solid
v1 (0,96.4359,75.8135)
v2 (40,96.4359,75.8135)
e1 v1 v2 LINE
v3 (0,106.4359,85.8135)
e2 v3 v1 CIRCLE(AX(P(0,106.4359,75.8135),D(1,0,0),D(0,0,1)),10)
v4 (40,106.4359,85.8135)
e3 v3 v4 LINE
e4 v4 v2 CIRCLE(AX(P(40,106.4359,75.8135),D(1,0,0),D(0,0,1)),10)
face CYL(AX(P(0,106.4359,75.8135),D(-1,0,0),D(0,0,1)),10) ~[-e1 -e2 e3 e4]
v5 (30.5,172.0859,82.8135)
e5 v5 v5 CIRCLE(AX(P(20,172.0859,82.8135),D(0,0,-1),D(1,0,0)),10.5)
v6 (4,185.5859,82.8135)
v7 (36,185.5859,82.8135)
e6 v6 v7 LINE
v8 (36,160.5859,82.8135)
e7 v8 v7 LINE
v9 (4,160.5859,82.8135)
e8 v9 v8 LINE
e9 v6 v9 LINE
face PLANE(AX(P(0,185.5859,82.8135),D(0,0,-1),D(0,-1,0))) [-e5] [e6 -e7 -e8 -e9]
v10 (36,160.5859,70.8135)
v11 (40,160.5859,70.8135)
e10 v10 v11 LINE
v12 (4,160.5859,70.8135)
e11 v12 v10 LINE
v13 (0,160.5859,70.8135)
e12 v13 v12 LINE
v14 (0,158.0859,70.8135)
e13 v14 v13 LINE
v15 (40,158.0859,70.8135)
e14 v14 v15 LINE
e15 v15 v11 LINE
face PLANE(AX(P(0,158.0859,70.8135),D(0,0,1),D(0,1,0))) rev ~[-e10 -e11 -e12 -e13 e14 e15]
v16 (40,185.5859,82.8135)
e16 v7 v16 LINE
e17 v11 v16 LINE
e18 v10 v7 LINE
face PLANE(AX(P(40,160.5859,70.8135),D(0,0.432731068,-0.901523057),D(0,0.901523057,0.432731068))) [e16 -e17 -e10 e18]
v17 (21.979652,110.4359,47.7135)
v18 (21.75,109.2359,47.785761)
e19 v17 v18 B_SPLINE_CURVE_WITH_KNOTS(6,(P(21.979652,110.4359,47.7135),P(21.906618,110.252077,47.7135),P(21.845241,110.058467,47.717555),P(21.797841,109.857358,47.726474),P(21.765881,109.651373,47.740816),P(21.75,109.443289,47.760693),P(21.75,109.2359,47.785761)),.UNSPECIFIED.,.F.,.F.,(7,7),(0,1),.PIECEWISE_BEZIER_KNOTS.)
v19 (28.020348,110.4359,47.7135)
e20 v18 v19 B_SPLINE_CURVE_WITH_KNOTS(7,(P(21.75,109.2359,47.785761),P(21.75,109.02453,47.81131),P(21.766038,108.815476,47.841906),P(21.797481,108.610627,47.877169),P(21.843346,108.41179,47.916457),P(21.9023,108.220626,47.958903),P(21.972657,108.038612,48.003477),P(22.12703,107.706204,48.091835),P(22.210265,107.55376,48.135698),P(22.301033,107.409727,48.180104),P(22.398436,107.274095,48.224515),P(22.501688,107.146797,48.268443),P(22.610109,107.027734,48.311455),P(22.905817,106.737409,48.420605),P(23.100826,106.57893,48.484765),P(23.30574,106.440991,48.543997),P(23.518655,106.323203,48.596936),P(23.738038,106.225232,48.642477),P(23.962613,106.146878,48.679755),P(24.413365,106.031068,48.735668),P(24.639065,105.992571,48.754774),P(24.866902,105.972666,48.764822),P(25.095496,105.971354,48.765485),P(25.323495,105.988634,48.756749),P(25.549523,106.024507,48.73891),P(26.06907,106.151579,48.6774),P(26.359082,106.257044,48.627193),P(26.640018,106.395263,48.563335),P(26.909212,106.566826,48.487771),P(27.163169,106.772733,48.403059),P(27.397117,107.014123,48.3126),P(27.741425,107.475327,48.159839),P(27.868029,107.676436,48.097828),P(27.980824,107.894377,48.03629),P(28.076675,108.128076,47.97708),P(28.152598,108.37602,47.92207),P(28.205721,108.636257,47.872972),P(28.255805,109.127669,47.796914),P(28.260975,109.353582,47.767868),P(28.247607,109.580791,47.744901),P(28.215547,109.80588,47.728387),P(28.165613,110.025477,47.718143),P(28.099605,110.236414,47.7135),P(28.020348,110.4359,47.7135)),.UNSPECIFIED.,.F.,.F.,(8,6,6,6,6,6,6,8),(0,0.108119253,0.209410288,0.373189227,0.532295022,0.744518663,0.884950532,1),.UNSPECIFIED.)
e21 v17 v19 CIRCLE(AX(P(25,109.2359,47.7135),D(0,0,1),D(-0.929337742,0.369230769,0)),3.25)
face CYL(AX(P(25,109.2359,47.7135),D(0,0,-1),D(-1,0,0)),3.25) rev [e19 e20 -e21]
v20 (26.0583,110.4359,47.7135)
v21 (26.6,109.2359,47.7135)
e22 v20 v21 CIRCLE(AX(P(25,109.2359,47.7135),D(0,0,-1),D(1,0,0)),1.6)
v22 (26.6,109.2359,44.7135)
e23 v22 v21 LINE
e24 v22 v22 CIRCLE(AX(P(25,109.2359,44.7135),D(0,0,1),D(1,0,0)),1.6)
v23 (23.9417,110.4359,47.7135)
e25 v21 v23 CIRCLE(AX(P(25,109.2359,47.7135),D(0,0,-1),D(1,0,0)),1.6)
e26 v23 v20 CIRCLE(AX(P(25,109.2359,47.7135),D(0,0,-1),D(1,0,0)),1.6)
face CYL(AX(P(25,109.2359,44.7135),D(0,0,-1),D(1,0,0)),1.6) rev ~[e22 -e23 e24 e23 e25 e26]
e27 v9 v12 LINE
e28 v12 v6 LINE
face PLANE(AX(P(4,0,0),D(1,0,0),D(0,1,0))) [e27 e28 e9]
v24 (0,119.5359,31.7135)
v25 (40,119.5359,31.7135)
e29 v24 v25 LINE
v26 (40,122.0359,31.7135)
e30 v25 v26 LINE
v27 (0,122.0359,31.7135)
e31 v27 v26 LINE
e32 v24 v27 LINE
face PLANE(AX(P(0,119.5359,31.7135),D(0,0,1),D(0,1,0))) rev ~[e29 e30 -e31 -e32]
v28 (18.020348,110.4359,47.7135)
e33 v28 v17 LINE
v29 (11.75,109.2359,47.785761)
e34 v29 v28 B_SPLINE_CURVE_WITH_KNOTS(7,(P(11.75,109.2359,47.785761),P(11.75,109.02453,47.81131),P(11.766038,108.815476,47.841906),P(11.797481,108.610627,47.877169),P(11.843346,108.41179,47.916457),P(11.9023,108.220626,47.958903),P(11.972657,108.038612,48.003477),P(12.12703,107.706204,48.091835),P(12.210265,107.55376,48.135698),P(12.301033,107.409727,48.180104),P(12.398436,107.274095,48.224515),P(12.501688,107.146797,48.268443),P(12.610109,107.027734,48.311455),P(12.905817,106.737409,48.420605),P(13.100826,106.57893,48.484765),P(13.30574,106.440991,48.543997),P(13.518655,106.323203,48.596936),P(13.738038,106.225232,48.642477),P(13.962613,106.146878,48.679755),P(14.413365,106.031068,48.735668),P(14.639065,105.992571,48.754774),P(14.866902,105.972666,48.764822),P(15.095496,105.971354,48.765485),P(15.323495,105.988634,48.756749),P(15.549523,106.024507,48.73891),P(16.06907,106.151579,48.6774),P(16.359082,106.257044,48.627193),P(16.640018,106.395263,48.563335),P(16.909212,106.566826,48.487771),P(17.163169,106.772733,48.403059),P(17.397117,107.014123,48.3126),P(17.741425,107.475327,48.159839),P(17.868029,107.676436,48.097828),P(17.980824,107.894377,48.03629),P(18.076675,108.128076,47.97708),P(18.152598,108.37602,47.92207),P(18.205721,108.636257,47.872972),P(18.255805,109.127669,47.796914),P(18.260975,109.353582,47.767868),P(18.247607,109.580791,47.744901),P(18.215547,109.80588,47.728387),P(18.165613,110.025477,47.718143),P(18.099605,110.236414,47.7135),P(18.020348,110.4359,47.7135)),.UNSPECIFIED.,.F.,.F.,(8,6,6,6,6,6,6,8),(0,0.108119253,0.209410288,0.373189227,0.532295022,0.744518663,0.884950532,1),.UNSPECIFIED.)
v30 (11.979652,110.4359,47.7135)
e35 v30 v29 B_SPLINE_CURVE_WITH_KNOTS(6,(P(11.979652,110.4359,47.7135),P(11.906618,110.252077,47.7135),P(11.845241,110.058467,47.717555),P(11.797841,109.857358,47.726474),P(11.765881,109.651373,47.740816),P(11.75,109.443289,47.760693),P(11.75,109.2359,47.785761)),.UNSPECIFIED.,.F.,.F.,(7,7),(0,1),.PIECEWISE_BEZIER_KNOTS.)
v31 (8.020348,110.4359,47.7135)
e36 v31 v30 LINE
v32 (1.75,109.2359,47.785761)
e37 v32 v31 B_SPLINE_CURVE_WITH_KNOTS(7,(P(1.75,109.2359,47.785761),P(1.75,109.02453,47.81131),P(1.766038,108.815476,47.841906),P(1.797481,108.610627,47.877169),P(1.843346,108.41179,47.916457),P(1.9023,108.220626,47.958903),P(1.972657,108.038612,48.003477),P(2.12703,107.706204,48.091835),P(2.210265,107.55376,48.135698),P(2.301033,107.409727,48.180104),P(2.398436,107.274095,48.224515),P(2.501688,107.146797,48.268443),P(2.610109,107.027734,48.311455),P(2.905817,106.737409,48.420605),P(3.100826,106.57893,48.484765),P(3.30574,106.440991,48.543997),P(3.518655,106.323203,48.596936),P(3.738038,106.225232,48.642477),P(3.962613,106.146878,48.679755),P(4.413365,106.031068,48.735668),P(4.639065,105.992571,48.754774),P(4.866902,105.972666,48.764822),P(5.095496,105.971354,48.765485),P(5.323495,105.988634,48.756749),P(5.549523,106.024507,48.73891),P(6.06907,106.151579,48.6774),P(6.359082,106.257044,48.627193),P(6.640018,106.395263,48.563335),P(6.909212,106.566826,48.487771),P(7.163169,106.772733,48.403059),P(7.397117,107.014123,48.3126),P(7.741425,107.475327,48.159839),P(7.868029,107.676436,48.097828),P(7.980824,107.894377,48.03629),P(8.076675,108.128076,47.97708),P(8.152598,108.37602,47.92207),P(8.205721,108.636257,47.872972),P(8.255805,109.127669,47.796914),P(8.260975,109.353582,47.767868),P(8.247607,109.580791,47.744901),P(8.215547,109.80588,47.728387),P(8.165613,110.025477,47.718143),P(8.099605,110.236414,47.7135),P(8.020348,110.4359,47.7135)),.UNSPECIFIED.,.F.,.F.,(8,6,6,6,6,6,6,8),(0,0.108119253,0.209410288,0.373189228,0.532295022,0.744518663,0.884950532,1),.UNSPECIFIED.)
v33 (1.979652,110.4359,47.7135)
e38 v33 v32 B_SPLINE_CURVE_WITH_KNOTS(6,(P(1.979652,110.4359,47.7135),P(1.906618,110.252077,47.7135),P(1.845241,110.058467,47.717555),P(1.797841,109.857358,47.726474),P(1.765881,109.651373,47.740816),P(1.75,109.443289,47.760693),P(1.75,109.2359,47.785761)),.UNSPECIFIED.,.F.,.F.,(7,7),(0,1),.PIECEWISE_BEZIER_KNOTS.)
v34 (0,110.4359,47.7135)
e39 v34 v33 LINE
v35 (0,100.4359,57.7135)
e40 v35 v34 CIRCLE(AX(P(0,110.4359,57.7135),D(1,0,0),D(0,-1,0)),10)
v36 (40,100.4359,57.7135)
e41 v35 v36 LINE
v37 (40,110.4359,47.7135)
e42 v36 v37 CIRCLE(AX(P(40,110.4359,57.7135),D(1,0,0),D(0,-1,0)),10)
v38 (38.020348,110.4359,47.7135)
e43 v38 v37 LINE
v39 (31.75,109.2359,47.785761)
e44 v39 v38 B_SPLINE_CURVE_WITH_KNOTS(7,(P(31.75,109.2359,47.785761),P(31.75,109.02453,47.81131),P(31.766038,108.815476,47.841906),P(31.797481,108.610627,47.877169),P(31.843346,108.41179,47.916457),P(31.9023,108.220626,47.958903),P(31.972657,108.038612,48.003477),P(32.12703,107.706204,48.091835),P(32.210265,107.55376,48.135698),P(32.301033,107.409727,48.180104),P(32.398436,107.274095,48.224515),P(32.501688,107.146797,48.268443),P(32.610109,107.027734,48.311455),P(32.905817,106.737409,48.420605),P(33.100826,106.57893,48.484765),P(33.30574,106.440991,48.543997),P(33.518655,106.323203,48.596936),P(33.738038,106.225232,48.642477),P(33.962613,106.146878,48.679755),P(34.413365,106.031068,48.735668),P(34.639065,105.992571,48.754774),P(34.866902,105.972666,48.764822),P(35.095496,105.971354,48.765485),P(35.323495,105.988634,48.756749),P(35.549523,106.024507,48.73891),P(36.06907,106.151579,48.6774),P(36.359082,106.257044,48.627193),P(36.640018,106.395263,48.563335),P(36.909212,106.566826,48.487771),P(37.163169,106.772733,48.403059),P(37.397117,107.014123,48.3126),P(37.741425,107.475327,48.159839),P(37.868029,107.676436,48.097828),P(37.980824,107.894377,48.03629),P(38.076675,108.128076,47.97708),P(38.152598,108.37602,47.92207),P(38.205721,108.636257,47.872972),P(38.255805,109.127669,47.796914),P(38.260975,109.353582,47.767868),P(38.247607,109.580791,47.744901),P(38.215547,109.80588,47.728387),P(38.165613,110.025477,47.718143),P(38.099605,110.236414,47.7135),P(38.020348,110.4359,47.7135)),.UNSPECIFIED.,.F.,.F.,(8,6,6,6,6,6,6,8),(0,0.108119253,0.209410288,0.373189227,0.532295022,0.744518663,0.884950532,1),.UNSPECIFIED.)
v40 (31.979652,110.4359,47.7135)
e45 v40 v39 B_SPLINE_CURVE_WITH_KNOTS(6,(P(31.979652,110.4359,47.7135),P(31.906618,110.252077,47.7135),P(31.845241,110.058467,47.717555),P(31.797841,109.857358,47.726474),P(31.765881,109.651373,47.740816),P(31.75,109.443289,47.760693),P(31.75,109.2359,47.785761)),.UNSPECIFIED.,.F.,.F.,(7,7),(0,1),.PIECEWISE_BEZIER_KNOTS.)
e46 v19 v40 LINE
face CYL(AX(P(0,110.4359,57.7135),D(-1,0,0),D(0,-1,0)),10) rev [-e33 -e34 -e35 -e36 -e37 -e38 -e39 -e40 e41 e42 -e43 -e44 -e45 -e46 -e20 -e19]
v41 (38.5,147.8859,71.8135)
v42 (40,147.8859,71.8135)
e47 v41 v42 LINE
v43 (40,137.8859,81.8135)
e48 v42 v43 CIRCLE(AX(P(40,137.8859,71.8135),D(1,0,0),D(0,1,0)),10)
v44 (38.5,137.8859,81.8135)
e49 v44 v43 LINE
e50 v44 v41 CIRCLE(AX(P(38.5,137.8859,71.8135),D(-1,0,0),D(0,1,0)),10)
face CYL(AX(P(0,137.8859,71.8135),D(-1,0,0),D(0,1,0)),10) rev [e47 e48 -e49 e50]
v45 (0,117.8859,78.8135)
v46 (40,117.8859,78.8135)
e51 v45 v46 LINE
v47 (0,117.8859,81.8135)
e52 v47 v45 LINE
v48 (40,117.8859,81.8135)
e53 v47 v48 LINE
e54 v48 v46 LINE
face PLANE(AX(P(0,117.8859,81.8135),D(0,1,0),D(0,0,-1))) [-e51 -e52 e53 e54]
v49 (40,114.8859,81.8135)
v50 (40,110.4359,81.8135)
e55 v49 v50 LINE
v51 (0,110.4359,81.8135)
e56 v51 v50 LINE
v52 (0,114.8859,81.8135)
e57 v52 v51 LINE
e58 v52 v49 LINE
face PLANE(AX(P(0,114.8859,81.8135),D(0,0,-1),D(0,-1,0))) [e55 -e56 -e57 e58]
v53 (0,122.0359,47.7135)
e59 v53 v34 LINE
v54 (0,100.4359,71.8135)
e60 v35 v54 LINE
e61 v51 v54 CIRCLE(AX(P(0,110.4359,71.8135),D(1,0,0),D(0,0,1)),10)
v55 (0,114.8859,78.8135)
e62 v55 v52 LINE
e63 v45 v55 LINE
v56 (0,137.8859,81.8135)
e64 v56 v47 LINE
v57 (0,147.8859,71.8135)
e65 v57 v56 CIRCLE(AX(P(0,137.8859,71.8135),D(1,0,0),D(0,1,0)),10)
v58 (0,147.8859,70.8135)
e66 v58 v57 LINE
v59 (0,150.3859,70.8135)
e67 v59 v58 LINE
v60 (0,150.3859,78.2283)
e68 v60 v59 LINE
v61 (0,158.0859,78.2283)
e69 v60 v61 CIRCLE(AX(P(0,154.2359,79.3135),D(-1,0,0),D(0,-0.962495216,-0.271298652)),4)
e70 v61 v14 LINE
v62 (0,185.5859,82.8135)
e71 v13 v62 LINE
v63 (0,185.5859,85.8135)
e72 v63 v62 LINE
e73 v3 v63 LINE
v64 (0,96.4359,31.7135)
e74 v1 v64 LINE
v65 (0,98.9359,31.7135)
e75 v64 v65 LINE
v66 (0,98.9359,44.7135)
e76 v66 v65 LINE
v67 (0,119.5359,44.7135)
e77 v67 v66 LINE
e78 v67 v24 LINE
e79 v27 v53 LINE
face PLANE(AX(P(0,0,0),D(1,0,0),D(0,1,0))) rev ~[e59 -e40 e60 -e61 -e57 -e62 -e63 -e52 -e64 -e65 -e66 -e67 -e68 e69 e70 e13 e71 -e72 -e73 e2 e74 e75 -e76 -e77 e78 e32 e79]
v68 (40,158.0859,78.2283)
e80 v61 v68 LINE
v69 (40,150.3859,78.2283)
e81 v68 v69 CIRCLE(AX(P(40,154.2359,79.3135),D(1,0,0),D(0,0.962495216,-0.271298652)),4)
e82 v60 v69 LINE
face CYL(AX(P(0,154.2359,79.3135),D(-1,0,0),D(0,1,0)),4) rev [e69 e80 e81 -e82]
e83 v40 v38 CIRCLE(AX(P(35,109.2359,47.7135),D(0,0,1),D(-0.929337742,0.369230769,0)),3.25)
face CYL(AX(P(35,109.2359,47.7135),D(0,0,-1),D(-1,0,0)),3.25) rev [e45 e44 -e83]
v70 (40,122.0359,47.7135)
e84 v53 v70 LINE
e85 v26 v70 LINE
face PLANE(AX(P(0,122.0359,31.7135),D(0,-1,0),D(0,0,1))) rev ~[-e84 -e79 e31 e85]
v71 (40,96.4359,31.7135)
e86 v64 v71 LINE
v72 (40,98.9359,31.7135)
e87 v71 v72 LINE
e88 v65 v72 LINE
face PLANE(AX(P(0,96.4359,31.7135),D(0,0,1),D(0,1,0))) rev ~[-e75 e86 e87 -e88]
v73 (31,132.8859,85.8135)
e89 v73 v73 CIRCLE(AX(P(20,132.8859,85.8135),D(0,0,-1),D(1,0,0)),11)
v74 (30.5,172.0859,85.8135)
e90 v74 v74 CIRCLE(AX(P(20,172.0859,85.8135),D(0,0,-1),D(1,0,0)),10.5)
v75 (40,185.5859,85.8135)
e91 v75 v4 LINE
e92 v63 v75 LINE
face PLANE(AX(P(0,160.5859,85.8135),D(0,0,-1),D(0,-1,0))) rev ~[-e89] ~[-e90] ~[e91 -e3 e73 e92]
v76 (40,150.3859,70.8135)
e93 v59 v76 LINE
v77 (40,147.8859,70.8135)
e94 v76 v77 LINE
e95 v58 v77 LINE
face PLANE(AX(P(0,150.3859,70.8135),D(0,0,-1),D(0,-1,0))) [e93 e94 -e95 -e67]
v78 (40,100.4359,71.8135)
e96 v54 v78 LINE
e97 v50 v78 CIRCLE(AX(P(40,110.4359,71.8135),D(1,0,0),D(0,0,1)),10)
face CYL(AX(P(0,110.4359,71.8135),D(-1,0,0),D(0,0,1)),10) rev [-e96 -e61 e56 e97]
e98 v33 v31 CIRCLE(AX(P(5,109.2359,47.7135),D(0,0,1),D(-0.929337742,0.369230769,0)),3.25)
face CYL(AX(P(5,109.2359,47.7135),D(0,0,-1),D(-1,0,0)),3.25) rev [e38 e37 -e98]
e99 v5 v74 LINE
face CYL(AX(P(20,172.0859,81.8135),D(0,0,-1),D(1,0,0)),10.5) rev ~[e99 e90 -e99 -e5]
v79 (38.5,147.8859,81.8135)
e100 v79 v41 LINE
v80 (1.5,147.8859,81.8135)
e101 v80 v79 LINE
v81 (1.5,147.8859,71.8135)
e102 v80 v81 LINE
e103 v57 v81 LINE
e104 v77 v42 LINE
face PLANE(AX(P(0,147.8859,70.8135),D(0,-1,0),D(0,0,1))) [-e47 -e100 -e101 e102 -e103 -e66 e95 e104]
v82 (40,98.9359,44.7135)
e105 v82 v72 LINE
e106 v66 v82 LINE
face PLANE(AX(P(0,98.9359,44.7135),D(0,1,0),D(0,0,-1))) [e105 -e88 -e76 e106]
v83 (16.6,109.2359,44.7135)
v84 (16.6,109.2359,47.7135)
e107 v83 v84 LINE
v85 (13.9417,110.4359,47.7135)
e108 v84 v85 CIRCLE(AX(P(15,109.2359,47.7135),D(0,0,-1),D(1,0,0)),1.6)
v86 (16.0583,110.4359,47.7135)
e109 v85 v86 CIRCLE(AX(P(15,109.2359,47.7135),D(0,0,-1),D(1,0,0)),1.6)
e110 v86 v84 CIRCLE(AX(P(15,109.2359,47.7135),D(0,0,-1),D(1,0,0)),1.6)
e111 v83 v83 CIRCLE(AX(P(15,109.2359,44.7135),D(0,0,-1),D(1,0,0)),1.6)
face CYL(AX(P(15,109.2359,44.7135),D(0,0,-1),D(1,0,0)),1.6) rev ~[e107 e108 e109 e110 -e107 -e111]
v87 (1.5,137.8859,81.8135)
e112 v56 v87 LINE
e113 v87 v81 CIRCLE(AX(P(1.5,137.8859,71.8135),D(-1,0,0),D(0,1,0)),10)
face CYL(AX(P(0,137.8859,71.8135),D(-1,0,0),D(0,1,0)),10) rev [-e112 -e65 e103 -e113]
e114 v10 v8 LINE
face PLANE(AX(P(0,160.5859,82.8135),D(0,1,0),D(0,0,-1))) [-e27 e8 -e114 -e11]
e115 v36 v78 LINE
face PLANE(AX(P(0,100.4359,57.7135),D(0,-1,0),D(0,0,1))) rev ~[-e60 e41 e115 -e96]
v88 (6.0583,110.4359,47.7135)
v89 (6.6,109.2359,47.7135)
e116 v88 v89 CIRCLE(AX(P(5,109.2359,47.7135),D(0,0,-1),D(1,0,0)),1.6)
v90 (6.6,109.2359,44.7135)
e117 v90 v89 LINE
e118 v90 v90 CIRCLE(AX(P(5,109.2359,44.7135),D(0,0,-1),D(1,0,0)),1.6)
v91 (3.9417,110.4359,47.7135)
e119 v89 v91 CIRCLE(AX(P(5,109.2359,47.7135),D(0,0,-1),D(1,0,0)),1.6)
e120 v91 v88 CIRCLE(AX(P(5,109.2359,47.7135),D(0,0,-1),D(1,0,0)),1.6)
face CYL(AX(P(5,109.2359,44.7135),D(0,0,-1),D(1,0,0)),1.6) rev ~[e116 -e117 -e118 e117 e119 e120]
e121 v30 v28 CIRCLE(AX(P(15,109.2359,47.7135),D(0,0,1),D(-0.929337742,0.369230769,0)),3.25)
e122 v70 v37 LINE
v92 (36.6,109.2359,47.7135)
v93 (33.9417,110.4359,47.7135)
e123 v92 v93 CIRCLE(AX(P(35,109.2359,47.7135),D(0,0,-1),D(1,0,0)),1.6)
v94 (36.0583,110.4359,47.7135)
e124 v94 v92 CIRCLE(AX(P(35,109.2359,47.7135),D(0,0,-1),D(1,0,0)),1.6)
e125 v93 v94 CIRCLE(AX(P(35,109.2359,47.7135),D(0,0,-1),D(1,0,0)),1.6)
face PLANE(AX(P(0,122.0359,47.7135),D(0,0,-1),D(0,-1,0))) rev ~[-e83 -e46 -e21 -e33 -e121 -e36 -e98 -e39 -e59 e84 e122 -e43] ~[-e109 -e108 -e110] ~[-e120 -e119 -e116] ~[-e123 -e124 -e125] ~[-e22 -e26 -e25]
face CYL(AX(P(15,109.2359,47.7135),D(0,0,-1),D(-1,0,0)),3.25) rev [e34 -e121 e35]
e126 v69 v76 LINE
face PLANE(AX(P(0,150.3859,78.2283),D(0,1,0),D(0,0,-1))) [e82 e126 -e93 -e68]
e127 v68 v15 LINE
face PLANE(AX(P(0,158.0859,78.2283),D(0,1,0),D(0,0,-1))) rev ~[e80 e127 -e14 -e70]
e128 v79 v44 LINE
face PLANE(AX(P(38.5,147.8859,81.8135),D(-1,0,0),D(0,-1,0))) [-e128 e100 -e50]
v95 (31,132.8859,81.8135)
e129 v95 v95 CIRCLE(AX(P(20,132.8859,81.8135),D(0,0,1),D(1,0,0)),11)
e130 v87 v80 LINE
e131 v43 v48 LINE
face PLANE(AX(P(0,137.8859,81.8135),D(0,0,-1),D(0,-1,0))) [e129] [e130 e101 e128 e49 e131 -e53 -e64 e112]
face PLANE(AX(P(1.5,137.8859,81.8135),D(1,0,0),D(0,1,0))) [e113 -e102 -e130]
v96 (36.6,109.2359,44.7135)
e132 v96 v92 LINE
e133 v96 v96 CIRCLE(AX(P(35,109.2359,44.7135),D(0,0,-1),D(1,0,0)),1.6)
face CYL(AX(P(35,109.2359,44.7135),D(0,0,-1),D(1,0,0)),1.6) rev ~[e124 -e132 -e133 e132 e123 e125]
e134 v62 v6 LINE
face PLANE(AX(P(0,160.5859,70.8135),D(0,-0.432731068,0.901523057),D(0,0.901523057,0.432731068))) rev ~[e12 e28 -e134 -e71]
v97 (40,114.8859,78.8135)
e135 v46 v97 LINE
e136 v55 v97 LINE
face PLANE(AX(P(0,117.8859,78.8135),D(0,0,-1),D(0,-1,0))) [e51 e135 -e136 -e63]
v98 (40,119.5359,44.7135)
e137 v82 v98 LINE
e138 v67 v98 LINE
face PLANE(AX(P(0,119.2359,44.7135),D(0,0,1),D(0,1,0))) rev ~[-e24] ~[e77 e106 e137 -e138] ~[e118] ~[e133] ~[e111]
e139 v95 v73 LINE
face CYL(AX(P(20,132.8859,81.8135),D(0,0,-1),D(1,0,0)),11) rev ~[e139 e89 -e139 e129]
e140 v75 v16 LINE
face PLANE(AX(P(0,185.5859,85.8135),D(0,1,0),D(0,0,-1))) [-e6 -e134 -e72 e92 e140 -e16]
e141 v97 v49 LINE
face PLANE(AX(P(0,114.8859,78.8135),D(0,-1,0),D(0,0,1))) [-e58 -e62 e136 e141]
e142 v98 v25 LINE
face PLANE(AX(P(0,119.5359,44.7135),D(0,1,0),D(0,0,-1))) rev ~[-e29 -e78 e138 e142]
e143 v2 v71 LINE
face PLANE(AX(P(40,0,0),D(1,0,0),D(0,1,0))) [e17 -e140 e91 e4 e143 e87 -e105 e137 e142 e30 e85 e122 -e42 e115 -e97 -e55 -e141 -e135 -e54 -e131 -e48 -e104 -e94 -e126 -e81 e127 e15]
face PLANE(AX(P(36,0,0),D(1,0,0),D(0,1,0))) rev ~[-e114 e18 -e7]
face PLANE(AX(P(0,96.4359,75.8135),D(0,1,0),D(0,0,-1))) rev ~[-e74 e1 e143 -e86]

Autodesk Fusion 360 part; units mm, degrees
sketch "Sketch2" plane through (0, 0, 0) normal (1, 0, 0) x (0, 1, 0) in component "Support Batt"
  circle A0 centre (154.2359, 79.3135) radius 4
  line L0 (99.2359, 44.7135) -> (119.2359, 44.7135)
  line L1 (119.2359, 31.7135) -> (119.2359, 44.7135)
  line L2 (99.2359, 31.7135) -> (99.2359, 44.7135)
  line L3 (160.5859, 85.8135) -> (106.4359, 85.8135)
  line L4 (50.5431, 31.7135) -> (52.3447, 31.7135)
  line L5 (52.3447, 31.7135) -> (217.041, 31.7135) construction
  line L6 (96.4359, 75.8135) -> (96.4359, 31.7135)
  line L7 (96.4359, 31.7135) -> (98.9359, 31.7135)
  line L8 (98.9359, 44.7135) -> (119.5359, 44.7135)
  line L9 (119.5359, 44.7135) -> (119.5359, 31.7135)
  line L10 (98.9359, 44.7135) -> (98.9359, 31.7135)
  line L11 (119.5359, 31.7135) -> (122.0359, 31.7135)
  line L12 (154.2359, 83.3135) -> (160.5859, 83.3135) construction
  line L13 (160.5859, 85.8135) -> (160.5859, 70.8135)
  line L14 (158.0859, 70.8135) -> (160.5859, 70.8135)
  line L15 (158.0859, 78.2283) -> (158.0859, 70.8135)
  line L16 (150.3859, 78.2283) -> (150.3859, 70.8135)
  line L17 (150.3859, 70.8135) -> (147.8859, 70.8135)
  line L18 (150.3859, 70.8135) -> (158.0859, 70.8135) construction
  line L19 (154.2359, 79.3135) -> (154.2359, 70.8135) construction
  line L20 (147.8859, 70.8135) -> (147.8859, 71.8135)
  line L21 (137.8859, 81.8135) -> (110.4359, 81.8135)
  line L22 (122.0359, 31.7135) -> (122.0359, 47.7135)
  line L23 (122.0359, 47.7135) -> (110.4359, 47.7135)
  line L24 (100.4359, 57.7135) -> (100.4359, 71.8135)
  arc A1 (110.4359, 81.8135) -> (100.4359, 71.8135) centre (110.4359, 71.8135) ccw
  arc A2 (147.8859, 71.8135) -> (137.8859, 81.8135) centre (137.8859, 71.8135) ccw
  arc A3 (100.4359, 57.7135) -> (110.4359, 47.7135) centre (110.4359, 57.7135) ccw
  arc A4 (158.0859, 78.2283) -> (150.3859, 78.2283) centre (154.2359, 79.3135) ccw
  arc A5 (106.4359, 85.8135) -> (96.4359, 75.8135) centre (106.4359, 75.8135) ccw
  line L25 (114.8859, 81.8135) -> (117.8859, 81.8135)
  line L26 (117.8859, 81.8135) -> (117.8859, 78.8135)
  line L27 (117.8859, 78.8135) -> (114.8859, 78.8135)
  line L28 (114.8859, 78.8135) -> (114.8859, 81.8135)
  line L29 (160.5859, 85.8135) -> (185.5859, 85.8135)
  line L30 (185.5859, 85.8135) -> (185.5859, 82.8135)
  line L31 (185.5859, 82.8135) -> (160.5859, 82.8135)
  line L32 (160.5859, 82.8135) -> (160.5859, 85.8135)
  line L33 (160.5859, 70.8135) -> (185.5859, 82.8135)
  point P0 (96.4359, 85.8135)
  point P1 (100.4359, 81.8135)
  dimension "d2" = 0.3
  dimension "d3" = 0.3
  dimension "d4" = 2.5
  dimension "d5" = 2.5
  dimension "d6" = 2.5
  dimension "d7" = 2.5
  dimension "d8" = 8
  dimension "d9" = 15
  dimension "d10" = 7.7
  dimension "d11" = 2.5
  dimension "d12" = 4
  dimension "d13" = 4
  dimension "d14" = 3
  dimension "d15" = 10
  dimension "d68" = 10
  dimension "d69" = 3
  dimension "d70" = 3
  dimension "d71" = 30
  dimension "d80" = 25
  dimension "d81" = 3
extrude "Extrude1" add sketch "Sketch2" along normal blind 40 contours A0 L0 L3 L6 L7 L8 L9 L10 L11 L13 L14 L15 L16 L17 L20 L21 L22 L23 L24 A1 A2 A3 A4 A5 L25 L32 | L13 L29 L30 L31 L32 | L21 L25 L26 L27 L28 in component "Support Batt"
sketch "Sketch3" plane through (0, 0, 44.7135) normal (0, 0, -1) x (1, 0, 0) in component "Support Batt"
  line L0 (0, -98.9359) -> (0, -119.5359)
  line L1 (0, -119.5359) -> (40, -119.5359)
  line L2 (40, -119.5359) -> (40, -98.9359)
  line L3 (40, -98.9359) -> (0, -98.9359)
  line L4 (0, -109.2359) -> (40, -109.2359) construction
  circle A0 centre (25, -109.2359) radius 1.6
  circle A1 centre (15, -109.2359) radius 1.6
  line L5 (15, -109.2359) -> (25, -109.2359)
  line L6 (20, -109.2359) -> (20, -98.9359)
  circle A2 centre (35, -109.2359) radius 1.6
  circle A3 centre (5, -109.2359) radius 1.6
  dimension "d18" = 3.2
  dimension "d19" = 3.2
  dimension "d33" = 3.2
  dimension "d34" = 3.2
  dimension "d35" = 10
  dimension "d36" = 10
  dimension "d72" = 10
extrude "Extrude2" cut sketch "Sketch3" against normal blind 17 contours A0 | A1 | A2 | A3 in component "Support Batt"
sketch "Sketch4" plane through (0, 0, 47.7135) normal (0, 0, 1) x (-1, 0, 0) in component "Support Batt"
  arc A0 (-26.0583, -110.4359) -> (-23.9417, -110.4359) centre (-25, -109.2359) ccw
  line L0 (-26.0583, -110.4359) -> (-33.9417, -110.4359)
  line L1 (-40, -110.4359) -> (-40, -122.0359)
  line L2 (-40, -122.0359) -> (0, -122.0359)
  line L3 (0, -122.0359) -> (0, -110.4359)
  line L4 (0, -110.4359) -> (-3.9417, -110.4359)
  arc A1 (-16.0583, -110.4359) -> (-13.9417, -110.4359) centre (-15, -109.2359) ccw
  line L5 (-16.0583, -110.4359) -> (-23.9417, -110.4359)
  circle A2 centre (-15, -109.2359) radius 3.25
  circle A3 centre (-25, -109.2359) radius 3.25
  arc A4 (-36.0583, -110.4359) -> (-33.9417, -110.4359) centre (-35, -109.2359) ccw
  line L6 (-36.0583, -110.4359) -> (-40, -110.4359)
  arc A5 (-6.0583, -110.4359) -> (-3.9417, -110.4359) centre (-5, -109.2359) ccw
  line L7 (-6.0583, -110.4359) -> (-13.9417, -110.4359)
  circle A6 centre (-5, -109.2359) radius 3.25
  circle A7 centre (-35, -109.2359) radius 3.25
  dimension "d22" = 6.5
  dimension "d23" = 6.5
  dimension "d37" = 6.5
  dimension "d38" = 6.5
extrude "Extrude3" cut sketch "Sketch4" along normal blind 1.0447 contours A0 L0 L5 A3 | L0 A4 L6 A7 | A1 L5 A2 L7 | L4 A5 L7 A6 picked at (-25.046, -108.9536) picked at (-35.046, -108.9536) picked at (-15.046, -108.9536) picked at (-5.046, -108.9536) in component "Support Batt"
extrude "Extrude3'" add sketch "Sketch2" along normal blind 4 contours L13 L31 L33 in component "Support Batt"
sketch "Sketch5" plane through (40, 0, 0) normal (1, 0, 0) x (0, 1, 0) in component "Support Batt"
  line L0 (158.0859, 70.8135) -> (160.5859, 70.8135)
  line L1 (160.5859, 70.8135) -> (160.5859, 82.8135)
  line L2 (160.5859, 82.8135) -> (185.5859, 82.8135)
  line L3 (185.5859, 82.8135) -> (185.5859, 85.8135)
  line L4 (185.5859, 85.8135) -> (106.4359, 85.8135)
  arc A0 (106.4359, 85.8135) -> (96.4359, 75.8135) centre (106.4359, 75.8135) ccw
  line L5 (96.4359, 75.8135) -> (96.4359, 31.7135)
  line L6 (96.4359, 31.7135) -> (98.9359, 31.7135)
  line L7 (98.9359, 31.7135) -> (98.9359, 44.7135)
  line L8 (98.9359, 44.7135) -> (119.5359, 44.7135)
  line L9 (119.5359, 44.7135) -> (119.5359, 31.7135)
  line L10 (119.5359, 31.7135) -> (122.0359, 31.7135)
  line L11 (122.0359, 31.7135) -> (122.0359, 47.7135)
  line L12 (122.0359, 47.7135) -> (110.4359, 47.7135)
  arc A1 (100.4359, 57.7135) -> (110.4359, 47.7135) centre (110.4359, 57.7135) ccw
  line L13 (100.4359, 57.7135) -> (100.4359, 71.8135)
  arc A2 (110.4359, 81.8135) -> (100.4359, 71.8135) centre (110.4359, 71.8135) ccw
  line L14 (110.4359, 81.8135) -> (114.8859, 81.8135)
  line L15 (114.8859, 81.8135) -> (114.8859, 78.8135)
  line L16 (114.8859, 78.8135) -> (117.8859, 78.8135)
  line L17 (117.8859, 78.8135) -> (117.8859, 81.8135)
  line L18 (117.8859, 81.8135) -> (137.8859, 81.8135)
  arc A3 (147.8859, 71.8135) -> (137.8859, 81.8135) centre (137.8859, 71.8135) ccw
  line L19 (147.8859, 71.8135) -> (147.8859, 70.8135)
  line L20 (147.8859, 70.8135) -> (150.3859, 70.8135)
  line L21 (150.3859, 70.8135) -> (150.3859, 78.2283)
  arc A4 (158.0859, 78.2283) -> (150.3859, 78.2283) centre (154.2359, 79.3135) ccw
  line L22 (158.0859, 78.2283) -> (158.0859, 70.8135)
  line L23 (160.5859, 70.8135) -> (185.5859, 82.8135)
extrude "Extrude4" add sketch "Sketch5" against normal blind 4 contours L1 L2 L23 in component "Support Batt"
sketch "Sketch4 (1)" plane through (0, 0, 81.8135) normal (0, 0, -1) x (1, 0, 0) in component "Support Batt"
  line L0 (0, -117.8859) -> (0, -137.8859)
  line L1 (0, -137.8859) -> (40, -137.8859)
  line L2 (40, -137.8859) -> (40, -117.8859)
  line L3 (40, -117.8859) -> (0, -117.8859)
  line L4 (0, -147.8859) -> (40, -147.8859)
  line L5 (40, -147.8859) -> (0, -117.8859) construction
  line L6 (0, -158.0859) -> (0, -160.5859) construction
  line L7 (0, -160.5859) -> (4, -160.5859) construction
  line L8 (4, -160.5859) -> (36, -160.5859) construction
  line L9 (36, -160.5859) -> (40, -160.5859) construction
  line L10 (40, -160.5859) -> (40, -158.0859) construction
  line L11 (40, -158.0859) -> (0, -158.0859) construction
  line L12 (0, -160.5859) -> (0, -185.5859) construction
  line L13 (0, -185.5859) -> (4, -185.5859) construction
  line L14 (4, -185.5859) -> (4, -160.5859) construction
  line L15 (4, -160.5859) -> (0, -160.5859) construction
  circle A0 centre (20, -172.0859) radius 10.5
  circle A1 centre (20, -132.8859) radius 11
  line L16 (1.5, -147.8859) -> (38.5, -147.8859)
  line L17 (38.5, -147.8859) -> (38.5, -117.8859)
  line L18 (38.5, -117.8859) -> (1.5, -117.8859)
  line L19 (1.5, -117.8859) -> (1.5, -147.8859)
  line L20 (1.5, -147.8859) -> (38.5, -117.8859) construction
  line L21 (38.5, -147.8859) -> (1.5, -117.8859) construction
  line L22 (20, -158.0859) -> (20, -172.0859)
  point P0 (20, -132.8859)
  dimension "d88" = 21
  dimension "d89" = 22
  dimension "d90" = 37
  dimension "d91" = 30
  dimension "d96" = 14
extrude "Extrude5" cut sketch "Sketch4 (1)" against normal blind 11 contours L1 A1 | L1 A1 | A0 in component "Support Batt"
extrude "Extrude6" cut sketch "Sketch4 (1)" along normal blind 17 contours L1 L4 A1 L16 L17 L19 | L1 A1 picked at (22.1414, -140.7456) in component "Support Batt"
component "Support Batt" placed x (1, 0, 0) y (0, 1, 0) z (0, 0, 1) at (0, 0, 0)
